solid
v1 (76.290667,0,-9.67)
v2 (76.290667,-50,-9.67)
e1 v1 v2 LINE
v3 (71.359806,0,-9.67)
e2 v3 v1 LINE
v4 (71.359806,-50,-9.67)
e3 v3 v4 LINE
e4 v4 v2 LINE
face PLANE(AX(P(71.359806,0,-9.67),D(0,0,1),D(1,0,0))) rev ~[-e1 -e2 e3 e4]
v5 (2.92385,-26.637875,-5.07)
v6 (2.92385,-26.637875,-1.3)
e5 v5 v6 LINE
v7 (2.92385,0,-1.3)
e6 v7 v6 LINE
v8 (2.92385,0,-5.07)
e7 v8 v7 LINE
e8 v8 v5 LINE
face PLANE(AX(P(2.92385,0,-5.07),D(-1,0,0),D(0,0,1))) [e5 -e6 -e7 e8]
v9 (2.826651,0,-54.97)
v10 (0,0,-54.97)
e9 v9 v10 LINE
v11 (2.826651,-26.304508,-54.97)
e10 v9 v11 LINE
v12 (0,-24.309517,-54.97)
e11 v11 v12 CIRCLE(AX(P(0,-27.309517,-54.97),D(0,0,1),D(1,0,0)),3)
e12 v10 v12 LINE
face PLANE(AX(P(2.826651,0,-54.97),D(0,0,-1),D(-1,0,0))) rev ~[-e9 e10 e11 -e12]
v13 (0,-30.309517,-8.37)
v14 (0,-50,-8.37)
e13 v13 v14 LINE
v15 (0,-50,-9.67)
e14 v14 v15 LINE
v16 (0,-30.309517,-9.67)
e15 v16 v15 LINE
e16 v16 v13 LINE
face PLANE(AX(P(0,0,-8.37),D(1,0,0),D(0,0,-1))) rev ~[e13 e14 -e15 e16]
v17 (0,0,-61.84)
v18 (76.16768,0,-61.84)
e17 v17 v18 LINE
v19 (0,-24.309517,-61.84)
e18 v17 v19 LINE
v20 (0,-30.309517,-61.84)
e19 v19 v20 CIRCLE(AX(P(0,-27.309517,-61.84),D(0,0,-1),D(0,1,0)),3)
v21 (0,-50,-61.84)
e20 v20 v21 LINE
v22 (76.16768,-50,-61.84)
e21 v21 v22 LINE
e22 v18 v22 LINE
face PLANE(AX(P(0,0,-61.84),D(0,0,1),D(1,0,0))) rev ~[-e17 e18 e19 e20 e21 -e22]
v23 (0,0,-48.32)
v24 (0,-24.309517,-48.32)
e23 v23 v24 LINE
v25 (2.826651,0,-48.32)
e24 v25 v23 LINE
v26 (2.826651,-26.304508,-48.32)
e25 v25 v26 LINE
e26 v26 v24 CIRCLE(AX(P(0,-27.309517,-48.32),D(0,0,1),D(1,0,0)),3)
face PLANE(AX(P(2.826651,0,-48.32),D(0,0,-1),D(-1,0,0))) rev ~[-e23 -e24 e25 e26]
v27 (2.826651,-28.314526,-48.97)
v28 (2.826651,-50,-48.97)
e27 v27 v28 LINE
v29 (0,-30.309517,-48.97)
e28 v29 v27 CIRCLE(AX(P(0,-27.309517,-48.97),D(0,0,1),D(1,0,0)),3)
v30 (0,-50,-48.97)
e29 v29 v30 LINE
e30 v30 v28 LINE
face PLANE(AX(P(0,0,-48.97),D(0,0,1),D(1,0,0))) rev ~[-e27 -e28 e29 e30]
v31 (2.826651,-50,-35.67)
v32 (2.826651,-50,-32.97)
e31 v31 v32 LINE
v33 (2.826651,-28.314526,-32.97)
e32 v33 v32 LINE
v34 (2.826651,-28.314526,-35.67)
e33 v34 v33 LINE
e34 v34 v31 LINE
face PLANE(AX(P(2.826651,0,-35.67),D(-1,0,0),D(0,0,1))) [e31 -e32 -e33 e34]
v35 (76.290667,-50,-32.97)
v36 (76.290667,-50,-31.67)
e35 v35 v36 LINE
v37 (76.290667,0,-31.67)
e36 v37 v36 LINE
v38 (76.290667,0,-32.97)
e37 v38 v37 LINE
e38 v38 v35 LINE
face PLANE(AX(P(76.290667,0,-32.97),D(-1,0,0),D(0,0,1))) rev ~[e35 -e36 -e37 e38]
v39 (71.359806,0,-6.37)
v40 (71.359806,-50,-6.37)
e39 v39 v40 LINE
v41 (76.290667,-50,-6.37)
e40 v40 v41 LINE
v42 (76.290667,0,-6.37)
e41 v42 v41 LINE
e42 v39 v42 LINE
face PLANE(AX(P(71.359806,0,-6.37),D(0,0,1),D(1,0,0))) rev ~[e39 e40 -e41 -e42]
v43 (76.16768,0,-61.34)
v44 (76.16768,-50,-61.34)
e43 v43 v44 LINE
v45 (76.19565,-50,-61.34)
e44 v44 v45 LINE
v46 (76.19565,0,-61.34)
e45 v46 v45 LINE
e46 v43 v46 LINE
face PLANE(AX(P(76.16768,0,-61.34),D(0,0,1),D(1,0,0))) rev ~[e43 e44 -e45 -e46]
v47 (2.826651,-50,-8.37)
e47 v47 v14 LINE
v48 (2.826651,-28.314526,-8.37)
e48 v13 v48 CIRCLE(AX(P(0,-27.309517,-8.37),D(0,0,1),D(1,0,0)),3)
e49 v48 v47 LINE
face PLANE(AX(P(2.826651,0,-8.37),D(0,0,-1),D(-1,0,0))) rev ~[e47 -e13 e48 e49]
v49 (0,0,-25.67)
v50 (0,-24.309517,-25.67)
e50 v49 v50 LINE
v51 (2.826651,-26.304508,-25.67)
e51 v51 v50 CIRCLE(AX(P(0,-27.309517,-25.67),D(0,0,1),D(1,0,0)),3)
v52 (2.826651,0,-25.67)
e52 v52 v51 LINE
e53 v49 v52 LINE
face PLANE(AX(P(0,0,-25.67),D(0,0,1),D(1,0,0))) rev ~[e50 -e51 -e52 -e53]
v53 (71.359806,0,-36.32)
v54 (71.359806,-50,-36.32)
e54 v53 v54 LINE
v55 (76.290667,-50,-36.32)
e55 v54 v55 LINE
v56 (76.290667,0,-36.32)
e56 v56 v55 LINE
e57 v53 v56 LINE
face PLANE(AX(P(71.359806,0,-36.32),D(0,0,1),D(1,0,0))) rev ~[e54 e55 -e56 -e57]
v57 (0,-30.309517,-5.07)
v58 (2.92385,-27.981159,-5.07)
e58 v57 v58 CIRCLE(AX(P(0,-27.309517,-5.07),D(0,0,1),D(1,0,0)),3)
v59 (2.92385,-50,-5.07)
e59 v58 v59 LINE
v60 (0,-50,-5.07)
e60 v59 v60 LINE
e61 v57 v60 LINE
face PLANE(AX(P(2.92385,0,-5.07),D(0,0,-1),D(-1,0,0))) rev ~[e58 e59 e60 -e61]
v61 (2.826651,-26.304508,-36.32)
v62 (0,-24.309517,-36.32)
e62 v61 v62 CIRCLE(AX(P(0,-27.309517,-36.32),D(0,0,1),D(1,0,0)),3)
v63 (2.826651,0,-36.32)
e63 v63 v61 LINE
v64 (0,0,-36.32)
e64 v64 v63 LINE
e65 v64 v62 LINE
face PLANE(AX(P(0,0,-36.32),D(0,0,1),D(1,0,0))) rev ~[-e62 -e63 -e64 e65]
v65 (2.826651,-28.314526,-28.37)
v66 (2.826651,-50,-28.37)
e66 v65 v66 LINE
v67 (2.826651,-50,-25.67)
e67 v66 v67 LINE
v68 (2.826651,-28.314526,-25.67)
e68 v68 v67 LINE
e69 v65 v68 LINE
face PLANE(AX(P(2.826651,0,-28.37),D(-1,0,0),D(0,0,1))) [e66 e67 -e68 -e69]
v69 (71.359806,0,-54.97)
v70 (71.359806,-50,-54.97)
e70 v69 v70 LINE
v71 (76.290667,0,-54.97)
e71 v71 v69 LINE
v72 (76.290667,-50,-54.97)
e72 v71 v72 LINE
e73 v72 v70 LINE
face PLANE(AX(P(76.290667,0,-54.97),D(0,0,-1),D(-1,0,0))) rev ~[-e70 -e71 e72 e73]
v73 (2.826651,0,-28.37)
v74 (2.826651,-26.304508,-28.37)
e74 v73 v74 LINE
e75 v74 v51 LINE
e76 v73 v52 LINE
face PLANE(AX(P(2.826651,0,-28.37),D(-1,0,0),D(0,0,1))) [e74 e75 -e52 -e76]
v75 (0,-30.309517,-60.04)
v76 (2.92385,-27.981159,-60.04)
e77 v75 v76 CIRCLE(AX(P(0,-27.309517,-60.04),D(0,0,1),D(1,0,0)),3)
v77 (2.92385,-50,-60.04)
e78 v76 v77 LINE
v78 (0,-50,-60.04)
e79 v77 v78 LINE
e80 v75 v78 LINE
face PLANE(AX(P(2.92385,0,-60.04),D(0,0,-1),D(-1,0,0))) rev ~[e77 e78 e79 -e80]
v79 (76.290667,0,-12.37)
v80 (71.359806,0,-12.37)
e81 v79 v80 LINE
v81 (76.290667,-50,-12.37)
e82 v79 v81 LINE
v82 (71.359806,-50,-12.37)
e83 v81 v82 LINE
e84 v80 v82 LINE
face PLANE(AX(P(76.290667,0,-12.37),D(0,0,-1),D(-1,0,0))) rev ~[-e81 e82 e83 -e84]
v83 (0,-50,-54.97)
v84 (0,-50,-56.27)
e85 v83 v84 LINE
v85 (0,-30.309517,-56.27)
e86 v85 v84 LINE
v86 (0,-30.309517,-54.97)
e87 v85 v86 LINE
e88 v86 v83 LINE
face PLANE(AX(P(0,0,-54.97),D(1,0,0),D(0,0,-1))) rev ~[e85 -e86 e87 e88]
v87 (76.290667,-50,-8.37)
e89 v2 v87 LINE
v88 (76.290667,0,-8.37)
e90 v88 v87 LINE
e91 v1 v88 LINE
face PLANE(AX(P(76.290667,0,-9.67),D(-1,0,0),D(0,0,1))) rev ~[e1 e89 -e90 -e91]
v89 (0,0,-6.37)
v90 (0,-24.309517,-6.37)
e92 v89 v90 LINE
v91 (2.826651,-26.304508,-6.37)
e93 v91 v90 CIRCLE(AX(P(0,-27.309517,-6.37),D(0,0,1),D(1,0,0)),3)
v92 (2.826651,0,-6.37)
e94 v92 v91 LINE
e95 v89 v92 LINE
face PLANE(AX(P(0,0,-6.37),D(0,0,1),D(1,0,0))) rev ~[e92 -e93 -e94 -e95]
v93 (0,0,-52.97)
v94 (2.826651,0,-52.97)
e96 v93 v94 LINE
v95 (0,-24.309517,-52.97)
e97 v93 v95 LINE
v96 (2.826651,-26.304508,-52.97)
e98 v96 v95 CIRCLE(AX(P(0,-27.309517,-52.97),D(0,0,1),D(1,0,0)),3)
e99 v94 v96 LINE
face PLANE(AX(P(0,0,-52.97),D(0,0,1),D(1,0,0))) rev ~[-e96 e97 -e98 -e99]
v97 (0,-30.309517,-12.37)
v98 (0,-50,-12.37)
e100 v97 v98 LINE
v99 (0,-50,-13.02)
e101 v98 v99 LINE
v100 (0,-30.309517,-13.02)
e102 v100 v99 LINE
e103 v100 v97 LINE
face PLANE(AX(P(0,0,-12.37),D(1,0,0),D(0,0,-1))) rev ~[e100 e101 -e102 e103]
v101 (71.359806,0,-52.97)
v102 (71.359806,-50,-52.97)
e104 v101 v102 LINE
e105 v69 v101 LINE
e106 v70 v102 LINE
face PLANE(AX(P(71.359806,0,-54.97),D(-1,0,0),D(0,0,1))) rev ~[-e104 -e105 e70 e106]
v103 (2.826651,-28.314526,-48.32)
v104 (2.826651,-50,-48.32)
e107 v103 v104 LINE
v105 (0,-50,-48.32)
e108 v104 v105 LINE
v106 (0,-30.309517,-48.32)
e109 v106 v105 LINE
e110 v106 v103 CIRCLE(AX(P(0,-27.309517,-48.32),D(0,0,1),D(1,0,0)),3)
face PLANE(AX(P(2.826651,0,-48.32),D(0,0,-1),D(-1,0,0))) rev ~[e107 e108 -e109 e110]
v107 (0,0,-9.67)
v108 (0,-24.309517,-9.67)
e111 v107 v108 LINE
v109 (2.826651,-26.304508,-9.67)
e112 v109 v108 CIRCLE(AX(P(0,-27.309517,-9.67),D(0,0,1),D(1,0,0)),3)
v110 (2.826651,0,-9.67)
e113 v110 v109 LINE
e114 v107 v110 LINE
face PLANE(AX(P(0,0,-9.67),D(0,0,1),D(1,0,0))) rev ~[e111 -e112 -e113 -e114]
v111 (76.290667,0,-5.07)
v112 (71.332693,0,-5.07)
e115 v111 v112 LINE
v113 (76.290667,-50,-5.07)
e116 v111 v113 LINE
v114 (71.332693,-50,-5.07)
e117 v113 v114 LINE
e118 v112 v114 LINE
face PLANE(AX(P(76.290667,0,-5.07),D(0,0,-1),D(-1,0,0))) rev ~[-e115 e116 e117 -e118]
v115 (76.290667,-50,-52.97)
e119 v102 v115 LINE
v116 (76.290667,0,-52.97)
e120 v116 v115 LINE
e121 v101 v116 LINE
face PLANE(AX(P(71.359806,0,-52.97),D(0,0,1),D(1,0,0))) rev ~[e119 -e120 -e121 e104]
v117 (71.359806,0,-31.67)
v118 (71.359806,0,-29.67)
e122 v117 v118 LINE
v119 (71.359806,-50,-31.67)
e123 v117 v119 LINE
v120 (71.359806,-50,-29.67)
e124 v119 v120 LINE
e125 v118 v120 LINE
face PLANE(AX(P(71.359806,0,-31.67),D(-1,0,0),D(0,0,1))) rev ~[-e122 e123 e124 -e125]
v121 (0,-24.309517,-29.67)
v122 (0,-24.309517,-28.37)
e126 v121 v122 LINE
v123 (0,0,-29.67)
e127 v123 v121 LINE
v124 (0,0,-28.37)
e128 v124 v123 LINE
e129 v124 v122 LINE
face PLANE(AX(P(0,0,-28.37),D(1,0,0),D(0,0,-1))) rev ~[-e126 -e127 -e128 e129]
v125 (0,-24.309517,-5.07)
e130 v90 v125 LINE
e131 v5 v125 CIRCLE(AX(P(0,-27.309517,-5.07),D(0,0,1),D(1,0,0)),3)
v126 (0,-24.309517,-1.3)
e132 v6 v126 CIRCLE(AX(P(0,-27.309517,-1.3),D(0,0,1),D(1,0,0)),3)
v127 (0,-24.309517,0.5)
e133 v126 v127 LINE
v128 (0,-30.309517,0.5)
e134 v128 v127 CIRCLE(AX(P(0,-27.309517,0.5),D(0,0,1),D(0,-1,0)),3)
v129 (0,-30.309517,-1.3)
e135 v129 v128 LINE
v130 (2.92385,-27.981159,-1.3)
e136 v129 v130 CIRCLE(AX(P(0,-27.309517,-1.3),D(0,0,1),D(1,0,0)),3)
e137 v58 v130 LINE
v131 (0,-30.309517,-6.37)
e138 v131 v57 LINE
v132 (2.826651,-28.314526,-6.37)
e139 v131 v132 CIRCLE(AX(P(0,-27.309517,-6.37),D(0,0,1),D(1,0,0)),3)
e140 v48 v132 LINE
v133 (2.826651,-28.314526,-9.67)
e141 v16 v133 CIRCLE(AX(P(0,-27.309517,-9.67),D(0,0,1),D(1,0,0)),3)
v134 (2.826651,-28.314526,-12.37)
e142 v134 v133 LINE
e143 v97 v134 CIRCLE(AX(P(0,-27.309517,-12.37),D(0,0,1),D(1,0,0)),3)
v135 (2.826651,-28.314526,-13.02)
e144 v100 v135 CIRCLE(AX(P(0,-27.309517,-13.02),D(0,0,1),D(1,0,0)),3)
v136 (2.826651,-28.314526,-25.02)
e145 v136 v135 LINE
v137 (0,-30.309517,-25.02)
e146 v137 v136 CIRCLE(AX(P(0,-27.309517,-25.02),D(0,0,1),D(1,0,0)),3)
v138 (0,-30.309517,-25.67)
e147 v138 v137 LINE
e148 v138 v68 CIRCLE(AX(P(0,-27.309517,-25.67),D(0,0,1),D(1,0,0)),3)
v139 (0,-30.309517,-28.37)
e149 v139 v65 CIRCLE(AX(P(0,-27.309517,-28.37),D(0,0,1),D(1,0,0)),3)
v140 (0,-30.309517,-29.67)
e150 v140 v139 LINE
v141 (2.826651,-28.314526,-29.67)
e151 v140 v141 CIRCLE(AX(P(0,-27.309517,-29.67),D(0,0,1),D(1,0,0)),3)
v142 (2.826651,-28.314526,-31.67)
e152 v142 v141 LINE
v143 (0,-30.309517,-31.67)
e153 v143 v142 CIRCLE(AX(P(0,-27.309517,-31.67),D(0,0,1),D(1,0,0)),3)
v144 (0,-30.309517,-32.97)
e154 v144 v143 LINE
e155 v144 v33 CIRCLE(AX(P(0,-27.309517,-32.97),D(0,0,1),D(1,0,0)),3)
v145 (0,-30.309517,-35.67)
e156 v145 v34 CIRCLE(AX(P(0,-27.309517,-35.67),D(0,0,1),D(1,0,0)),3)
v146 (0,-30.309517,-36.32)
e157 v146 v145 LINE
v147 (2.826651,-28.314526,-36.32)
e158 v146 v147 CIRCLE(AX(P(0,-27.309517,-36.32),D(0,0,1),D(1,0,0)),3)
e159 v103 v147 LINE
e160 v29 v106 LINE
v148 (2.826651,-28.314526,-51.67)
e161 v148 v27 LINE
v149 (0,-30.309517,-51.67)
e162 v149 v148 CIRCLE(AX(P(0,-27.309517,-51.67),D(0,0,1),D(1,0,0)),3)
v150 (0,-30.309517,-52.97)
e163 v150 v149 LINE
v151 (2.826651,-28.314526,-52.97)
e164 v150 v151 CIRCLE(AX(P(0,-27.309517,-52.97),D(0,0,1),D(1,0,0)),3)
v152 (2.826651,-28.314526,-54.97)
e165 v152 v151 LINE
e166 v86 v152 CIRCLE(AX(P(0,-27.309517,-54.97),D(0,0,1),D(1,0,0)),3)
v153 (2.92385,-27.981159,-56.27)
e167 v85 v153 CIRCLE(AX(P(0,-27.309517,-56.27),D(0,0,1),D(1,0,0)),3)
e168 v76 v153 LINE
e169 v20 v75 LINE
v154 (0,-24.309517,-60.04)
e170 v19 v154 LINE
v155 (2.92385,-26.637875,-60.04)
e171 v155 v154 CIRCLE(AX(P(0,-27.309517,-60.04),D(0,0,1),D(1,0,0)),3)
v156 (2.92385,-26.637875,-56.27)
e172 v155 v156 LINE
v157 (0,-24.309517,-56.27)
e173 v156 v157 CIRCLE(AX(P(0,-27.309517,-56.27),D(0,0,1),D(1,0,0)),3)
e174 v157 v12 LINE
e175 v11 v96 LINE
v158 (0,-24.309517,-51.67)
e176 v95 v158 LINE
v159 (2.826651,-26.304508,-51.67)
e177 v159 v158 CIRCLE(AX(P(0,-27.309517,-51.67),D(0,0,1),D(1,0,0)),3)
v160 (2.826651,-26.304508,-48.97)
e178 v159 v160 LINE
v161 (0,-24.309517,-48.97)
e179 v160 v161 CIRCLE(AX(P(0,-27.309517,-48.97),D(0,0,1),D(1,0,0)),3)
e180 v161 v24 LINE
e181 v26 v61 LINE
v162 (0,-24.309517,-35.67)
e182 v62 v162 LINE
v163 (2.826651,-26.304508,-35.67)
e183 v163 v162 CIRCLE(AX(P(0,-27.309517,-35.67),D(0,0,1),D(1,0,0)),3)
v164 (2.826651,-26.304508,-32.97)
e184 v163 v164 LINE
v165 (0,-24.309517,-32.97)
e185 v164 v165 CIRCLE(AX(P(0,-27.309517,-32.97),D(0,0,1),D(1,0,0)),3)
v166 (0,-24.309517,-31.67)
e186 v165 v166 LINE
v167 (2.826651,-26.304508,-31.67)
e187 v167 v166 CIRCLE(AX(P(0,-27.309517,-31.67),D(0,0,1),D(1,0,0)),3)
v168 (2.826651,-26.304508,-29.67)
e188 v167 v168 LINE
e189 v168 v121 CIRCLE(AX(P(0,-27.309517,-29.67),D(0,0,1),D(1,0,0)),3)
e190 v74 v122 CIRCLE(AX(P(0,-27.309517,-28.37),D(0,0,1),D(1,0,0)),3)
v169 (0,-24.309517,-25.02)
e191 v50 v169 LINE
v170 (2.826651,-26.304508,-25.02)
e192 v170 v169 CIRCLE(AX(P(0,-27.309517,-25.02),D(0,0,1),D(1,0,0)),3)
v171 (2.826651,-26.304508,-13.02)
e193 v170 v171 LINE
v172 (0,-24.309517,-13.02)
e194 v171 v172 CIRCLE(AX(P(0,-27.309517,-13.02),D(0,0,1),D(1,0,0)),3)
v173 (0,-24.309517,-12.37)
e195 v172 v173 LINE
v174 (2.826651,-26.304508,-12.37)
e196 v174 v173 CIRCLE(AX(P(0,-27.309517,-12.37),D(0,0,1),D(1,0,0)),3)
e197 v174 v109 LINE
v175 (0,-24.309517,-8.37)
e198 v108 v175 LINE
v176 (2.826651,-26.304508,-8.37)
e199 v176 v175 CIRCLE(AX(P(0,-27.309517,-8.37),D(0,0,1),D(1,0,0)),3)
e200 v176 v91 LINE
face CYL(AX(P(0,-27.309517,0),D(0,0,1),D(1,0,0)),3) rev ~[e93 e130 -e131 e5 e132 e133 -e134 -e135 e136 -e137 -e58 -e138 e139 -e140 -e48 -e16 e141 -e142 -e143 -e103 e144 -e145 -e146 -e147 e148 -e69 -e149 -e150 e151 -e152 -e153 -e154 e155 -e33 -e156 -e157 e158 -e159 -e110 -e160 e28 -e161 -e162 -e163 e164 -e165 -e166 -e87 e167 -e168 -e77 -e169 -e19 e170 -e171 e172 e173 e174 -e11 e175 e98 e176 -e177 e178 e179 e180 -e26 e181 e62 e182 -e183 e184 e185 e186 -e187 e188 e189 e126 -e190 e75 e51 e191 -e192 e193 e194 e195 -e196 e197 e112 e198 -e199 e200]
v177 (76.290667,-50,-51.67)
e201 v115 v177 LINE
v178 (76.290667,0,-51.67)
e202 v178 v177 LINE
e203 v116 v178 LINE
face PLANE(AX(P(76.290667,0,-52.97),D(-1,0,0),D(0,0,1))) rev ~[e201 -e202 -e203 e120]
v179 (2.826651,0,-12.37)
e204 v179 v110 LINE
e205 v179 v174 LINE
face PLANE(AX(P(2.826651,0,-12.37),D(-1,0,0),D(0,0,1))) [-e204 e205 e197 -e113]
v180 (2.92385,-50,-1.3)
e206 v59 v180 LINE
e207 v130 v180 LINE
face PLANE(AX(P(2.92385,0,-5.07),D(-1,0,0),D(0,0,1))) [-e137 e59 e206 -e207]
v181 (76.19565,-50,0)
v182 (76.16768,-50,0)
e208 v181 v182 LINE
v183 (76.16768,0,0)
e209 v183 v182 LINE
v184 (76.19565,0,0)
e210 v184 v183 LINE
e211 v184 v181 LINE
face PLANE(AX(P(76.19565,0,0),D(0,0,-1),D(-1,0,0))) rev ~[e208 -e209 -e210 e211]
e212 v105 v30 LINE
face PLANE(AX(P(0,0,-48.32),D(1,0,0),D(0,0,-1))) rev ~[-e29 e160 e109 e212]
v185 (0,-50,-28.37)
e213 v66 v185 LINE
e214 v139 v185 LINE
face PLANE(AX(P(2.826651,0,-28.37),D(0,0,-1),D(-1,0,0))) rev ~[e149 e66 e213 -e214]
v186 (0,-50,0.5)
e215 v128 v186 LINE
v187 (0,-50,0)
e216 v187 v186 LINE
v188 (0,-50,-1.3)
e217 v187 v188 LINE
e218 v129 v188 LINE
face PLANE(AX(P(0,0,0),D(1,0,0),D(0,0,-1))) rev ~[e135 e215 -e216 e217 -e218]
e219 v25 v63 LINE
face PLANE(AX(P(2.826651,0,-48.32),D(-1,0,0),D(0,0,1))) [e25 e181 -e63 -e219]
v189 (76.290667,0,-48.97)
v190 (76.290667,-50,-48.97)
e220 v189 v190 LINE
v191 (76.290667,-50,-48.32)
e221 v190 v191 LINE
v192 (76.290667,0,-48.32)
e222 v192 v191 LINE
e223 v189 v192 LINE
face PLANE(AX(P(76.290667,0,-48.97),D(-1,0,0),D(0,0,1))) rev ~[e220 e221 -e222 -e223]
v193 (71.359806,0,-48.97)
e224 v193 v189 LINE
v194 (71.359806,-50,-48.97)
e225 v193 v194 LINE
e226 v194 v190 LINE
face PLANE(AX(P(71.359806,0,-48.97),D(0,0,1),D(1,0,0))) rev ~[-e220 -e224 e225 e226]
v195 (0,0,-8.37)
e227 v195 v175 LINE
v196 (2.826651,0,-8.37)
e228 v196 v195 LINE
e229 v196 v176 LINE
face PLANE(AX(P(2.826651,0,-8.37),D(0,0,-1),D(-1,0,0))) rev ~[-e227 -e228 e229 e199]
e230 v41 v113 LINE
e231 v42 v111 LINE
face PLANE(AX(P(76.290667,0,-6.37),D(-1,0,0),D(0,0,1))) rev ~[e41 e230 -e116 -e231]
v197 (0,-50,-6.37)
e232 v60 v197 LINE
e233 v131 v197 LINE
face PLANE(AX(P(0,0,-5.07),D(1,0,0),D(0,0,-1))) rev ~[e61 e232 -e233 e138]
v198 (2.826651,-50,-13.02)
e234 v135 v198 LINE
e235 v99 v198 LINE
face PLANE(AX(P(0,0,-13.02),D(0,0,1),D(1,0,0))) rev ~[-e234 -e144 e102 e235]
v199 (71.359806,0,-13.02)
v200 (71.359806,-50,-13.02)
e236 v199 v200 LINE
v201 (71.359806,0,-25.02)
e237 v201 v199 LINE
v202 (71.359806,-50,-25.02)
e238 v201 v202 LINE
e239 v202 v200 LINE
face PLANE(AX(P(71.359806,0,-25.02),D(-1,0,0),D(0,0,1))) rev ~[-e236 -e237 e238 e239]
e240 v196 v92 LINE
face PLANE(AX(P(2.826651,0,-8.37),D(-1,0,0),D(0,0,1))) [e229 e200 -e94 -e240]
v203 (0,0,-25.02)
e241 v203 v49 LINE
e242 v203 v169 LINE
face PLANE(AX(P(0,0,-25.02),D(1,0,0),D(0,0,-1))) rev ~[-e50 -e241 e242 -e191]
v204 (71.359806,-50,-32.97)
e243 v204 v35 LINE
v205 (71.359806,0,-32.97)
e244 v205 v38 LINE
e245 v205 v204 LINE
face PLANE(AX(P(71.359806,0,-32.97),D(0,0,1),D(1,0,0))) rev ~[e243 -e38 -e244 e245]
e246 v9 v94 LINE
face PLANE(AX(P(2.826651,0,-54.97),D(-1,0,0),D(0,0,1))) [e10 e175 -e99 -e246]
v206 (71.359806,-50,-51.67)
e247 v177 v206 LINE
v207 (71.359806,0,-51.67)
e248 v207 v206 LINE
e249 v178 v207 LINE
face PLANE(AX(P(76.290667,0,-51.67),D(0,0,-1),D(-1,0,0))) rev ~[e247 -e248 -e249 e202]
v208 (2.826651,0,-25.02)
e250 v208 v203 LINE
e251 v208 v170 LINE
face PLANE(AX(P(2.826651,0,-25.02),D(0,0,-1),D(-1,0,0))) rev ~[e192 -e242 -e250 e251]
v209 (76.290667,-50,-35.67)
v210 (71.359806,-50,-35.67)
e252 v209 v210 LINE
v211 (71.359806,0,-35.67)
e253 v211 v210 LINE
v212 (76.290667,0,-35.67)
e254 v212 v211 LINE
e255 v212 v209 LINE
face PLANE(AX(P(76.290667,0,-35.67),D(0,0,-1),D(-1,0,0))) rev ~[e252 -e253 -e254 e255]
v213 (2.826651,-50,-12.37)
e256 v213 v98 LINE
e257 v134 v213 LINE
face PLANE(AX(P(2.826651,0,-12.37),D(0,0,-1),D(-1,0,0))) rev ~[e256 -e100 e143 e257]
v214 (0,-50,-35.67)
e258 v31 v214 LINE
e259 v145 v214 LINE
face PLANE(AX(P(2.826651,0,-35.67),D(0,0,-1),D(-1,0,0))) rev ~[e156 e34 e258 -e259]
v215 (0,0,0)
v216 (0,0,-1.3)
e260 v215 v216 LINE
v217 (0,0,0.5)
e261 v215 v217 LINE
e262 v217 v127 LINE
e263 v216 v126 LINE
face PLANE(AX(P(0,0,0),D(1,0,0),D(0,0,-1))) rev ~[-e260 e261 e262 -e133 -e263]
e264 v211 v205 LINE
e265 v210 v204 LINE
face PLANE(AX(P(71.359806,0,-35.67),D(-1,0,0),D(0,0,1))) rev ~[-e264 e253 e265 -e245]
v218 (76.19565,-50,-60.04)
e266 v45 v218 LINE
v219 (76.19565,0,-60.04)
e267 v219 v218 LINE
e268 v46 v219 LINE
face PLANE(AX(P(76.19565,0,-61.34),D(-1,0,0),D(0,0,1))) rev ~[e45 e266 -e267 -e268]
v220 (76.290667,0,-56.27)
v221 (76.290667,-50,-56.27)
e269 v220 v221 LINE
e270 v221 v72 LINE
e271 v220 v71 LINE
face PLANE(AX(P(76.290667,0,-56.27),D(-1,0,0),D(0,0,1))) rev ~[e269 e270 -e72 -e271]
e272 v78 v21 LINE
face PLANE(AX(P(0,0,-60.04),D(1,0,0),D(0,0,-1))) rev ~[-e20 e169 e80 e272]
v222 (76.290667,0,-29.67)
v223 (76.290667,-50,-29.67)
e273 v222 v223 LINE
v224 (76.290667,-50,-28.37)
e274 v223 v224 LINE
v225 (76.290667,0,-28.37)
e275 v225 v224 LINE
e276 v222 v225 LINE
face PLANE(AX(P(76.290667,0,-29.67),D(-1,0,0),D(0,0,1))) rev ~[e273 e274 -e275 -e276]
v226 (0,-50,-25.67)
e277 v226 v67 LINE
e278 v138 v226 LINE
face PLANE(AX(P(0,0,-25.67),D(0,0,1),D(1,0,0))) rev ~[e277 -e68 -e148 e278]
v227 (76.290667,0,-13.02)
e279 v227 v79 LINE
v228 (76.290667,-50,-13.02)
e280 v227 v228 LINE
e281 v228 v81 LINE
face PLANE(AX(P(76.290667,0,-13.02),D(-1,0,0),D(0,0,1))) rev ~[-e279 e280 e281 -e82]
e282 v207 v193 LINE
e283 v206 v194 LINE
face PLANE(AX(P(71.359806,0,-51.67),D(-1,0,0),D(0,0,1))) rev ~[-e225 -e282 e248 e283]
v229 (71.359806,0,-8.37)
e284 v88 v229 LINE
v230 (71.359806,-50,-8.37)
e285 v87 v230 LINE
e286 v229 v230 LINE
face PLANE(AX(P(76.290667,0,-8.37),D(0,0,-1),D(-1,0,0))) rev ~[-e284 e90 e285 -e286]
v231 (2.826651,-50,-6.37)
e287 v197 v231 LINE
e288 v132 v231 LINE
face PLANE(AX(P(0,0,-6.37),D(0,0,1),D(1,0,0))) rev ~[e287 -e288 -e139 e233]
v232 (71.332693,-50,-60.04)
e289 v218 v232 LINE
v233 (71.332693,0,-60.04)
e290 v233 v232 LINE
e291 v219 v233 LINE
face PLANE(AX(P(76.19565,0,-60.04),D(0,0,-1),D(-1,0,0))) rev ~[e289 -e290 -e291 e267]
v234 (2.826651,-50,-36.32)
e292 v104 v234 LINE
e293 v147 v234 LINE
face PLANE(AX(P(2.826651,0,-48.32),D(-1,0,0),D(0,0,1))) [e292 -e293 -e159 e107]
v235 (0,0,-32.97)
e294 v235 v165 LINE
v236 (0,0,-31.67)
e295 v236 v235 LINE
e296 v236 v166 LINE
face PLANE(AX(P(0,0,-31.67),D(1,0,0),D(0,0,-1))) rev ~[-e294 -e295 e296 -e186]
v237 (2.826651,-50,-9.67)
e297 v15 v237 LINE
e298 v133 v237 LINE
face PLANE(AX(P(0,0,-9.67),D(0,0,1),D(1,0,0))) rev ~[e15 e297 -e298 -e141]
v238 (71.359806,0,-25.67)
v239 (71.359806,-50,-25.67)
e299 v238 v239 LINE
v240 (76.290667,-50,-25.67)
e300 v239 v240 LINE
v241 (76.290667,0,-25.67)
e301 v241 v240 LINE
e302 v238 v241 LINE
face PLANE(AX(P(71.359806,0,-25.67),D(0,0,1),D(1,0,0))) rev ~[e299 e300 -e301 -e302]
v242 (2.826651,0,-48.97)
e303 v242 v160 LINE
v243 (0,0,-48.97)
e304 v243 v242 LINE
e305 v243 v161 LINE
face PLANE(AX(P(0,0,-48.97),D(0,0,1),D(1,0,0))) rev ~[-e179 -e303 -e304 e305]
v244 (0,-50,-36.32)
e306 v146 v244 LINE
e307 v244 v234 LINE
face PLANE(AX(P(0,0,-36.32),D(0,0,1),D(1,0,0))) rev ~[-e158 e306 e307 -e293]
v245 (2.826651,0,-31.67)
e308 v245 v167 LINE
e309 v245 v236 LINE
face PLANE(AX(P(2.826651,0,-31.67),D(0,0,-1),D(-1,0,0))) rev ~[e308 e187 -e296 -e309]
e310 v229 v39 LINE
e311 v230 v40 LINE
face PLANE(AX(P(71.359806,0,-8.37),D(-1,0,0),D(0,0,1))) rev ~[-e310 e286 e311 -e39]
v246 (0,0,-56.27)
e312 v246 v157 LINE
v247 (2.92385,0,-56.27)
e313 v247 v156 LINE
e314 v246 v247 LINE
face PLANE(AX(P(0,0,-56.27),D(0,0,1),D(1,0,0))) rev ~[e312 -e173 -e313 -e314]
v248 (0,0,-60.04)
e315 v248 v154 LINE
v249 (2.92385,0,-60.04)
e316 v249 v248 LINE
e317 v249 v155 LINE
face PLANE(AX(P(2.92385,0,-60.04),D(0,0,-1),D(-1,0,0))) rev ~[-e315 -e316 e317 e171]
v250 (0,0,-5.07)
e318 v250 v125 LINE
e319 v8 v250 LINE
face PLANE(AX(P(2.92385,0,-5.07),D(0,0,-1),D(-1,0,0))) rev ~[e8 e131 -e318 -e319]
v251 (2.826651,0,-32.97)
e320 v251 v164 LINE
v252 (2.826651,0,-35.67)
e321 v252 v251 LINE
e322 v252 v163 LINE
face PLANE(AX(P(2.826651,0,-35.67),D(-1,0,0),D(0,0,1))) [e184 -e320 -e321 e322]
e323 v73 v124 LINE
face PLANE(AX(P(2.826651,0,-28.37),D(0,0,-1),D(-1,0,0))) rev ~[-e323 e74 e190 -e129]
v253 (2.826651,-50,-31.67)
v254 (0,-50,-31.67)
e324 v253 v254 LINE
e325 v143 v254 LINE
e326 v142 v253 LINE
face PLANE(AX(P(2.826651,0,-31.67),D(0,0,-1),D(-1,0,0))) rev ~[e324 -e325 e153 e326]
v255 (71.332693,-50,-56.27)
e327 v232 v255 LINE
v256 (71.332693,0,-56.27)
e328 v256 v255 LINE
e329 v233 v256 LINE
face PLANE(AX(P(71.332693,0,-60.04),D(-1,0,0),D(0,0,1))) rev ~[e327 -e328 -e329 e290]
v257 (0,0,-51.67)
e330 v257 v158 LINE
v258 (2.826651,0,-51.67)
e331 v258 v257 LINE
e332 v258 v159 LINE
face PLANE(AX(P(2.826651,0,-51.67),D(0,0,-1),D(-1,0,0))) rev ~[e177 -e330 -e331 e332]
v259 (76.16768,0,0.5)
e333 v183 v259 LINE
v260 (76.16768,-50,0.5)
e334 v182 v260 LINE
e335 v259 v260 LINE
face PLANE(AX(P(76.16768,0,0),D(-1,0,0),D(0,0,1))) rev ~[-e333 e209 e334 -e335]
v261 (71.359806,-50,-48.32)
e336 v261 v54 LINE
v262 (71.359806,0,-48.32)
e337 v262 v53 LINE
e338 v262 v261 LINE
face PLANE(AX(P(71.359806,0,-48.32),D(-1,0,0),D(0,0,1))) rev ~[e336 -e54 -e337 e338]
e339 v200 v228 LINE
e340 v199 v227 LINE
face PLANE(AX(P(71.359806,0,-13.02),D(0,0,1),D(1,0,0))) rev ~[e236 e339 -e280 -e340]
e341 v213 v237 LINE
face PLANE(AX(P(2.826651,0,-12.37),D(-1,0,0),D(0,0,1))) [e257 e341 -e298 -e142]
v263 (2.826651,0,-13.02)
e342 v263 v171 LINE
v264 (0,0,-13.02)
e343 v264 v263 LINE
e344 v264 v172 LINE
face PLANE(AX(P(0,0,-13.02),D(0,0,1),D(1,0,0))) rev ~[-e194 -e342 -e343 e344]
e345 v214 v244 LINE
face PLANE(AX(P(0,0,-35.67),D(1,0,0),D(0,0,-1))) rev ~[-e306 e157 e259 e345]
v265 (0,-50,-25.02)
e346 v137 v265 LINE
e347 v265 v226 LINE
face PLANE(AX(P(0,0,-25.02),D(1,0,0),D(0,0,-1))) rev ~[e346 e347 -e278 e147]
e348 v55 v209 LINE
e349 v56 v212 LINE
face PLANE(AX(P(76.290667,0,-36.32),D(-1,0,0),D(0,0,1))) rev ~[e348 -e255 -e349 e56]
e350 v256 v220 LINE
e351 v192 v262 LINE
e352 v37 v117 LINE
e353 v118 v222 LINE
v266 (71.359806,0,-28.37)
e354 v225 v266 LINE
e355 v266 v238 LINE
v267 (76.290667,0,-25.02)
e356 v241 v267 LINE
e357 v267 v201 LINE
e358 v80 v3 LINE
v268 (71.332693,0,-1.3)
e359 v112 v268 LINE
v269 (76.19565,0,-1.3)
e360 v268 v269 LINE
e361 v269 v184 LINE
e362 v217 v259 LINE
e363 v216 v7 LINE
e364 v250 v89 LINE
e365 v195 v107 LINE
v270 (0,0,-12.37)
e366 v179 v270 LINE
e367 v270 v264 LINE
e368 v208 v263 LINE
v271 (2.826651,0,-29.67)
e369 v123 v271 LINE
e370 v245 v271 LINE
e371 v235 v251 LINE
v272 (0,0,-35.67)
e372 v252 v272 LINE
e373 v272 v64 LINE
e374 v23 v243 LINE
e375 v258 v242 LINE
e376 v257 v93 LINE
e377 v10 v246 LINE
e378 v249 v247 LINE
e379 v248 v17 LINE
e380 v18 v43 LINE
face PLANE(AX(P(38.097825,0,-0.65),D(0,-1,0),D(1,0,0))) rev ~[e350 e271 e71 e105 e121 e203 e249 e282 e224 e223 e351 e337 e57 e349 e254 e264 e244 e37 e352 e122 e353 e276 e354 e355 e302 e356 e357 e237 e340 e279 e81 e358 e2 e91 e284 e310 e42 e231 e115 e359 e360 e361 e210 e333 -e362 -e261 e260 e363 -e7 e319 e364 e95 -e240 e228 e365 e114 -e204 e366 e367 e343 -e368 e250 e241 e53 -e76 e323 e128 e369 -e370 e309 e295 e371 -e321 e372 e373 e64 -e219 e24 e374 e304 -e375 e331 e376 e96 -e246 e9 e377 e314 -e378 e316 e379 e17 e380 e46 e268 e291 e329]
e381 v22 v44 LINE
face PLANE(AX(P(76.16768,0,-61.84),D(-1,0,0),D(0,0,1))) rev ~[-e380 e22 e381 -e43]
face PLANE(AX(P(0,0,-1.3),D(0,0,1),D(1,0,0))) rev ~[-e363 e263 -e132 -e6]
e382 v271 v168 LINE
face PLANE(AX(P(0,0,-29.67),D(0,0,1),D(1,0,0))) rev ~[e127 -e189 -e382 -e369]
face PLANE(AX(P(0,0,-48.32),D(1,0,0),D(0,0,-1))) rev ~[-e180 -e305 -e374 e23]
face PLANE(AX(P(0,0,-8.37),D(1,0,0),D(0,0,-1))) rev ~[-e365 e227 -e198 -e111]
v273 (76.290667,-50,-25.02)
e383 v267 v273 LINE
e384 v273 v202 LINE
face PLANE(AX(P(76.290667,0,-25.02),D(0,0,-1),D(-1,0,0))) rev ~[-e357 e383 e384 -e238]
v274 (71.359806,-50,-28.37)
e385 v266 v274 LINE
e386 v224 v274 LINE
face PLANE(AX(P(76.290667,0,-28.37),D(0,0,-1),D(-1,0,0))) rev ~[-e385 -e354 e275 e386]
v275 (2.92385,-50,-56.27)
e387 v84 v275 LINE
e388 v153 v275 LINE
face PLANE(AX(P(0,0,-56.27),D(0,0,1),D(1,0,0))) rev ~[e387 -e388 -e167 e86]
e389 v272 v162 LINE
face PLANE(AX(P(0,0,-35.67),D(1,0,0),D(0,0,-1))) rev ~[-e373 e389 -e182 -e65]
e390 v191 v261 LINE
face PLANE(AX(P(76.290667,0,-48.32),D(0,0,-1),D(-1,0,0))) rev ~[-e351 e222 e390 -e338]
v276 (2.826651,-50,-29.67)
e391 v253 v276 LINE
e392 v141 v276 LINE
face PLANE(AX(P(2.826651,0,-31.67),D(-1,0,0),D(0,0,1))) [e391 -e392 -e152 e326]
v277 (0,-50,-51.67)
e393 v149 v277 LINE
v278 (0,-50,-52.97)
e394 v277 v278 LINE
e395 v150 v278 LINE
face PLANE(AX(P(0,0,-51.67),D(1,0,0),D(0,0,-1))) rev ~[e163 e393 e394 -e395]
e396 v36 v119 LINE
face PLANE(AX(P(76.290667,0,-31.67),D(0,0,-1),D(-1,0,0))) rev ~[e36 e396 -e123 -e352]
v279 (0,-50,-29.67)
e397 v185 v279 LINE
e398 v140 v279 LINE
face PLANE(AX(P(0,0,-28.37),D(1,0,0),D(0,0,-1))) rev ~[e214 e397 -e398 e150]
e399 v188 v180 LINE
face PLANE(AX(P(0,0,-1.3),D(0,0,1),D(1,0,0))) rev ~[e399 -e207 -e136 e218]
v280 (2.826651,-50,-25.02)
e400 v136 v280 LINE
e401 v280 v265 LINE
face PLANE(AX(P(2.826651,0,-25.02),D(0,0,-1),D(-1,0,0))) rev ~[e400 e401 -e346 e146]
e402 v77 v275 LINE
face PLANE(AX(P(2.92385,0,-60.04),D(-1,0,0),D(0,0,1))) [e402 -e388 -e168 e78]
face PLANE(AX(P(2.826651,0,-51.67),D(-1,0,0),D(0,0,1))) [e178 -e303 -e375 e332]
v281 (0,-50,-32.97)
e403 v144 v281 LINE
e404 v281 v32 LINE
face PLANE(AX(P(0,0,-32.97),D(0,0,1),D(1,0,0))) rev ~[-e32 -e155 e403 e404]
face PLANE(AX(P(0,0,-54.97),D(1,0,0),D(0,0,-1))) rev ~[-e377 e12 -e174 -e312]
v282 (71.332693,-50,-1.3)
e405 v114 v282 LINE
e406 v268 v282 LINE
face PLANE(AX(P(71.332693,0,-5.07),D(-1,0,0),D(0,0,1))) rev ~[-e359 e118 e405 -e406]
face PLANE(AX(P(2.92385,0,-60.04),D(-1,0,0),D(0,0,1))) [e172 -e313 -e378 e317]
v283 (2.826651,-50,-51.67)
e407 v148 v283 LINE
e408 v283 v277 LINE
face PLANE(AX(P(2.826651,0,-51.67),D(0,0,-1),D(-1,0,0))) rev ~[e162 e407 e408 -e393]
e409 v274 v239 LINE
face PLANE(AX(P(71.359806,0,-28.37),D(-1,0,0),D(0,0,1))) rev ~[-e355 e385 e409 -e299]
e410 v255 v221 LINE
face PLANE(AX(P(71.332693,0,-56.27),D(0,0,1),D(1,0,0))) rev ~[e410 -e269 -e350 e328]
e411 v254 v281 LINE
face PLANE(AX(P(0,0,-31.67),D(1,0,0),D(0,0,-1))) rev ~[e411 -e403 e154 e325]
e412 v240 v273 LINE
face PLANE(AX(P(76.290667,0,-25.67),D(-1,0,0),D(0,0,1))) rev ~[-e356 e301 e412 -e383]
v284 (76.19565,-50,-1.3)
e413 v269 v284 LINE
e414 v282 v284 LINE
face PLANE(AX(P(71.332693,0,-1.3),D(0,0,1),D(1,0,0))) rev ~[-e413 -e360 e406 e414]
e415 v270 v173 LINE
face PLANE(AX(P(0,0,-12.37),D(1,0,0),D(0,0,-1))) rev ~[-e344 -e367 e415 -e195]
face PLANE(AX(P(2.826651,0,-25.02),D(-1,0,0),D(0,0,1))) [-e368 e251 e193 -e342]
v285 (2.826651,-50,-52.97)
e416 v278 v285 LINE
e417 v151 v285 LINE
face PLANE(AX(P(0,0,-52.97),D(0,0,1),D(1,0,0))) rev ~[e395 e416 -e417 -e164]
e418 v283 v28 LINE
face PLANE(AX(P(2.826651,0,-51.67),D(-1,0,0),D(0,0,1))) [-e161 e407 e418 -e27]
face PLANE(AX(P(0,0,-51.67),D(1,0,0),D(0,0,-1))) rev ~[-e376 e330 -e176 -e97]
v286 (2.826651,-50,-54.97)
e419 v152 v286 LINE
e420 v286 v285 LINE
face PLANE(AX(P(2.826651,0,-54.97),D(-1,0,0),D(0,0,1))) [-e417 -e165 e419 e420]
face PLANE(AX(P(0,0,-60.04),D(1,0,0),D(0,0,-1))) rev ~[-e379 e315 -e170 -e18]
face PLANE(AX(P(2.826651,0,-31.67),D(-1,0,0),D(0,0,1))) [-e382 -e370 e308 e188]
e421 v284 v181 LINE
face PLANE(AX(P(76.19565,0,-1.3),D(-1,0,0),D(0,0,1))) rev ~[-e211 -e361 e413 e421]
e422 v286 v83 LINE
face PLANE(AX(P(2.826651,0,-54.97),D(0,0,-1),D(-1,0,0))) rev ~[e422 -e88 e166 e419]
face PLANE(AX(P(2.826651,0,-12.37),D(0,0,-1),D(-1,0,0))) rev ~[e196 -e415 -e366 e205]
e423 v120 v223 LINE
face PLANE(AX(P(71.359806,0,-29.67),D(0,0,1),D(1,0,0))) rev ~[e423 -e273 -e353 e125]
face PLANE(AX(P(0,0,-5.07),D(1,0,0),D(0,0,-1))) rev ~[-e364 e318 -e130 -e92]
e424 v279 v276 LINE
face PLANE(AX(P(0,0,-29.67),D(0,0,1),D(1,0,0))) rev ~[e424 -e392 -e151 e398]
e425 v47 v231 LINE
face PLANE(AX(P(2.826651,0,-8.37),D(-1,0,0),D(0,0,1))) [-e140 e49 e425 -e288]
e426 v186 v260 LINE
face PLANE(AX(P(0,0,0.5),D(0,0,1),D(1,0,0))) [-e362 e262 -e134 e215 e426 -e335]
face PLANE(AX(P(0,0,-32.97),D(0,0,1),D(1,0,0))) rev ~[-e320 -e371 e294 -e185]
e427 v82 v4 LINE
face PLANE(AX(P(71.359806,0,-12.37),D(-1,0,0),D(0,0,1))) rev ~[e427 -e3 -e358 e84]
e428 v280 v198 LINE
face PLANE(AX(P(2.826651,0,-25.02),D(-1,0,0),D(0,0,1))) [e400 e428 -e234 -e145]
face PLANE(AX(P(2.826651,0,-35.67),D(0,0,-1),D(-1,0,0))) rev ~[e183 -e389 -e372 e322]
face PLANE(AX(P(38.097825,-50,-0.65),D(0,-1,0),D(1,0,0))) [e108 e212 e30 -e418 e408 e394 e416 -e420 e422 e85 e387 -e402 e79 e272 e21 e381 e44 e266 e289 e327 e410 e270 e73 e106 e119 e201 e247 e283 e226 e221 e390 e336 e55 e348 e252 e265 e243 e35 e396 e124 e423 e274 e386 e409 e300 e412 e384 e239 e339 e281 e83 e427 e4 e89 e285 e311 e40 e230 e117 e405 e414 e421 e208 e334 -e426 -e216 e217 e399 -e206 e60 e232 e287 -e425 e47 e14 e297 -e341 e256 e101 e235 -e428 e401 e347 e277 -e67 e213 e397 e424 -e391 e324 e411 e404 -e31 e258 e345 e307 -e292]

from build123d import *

# Parameters (mm, degrees)
F0_W          = 76.1676803231
F0_H          = 0.5
F0_W_2        = 68.4088433627
F0_H_2        = 3.77
F0_W_3        = 68.5331546701
F0_H_3        = 2.7
F0_H_4        = 2
F0_H_5        = 12
F1_DEPTH      = 50
F2_R          = 3
F3_DEPTH      = 70
F3_DEPTH_BACK = 0.501


with BuildPart() as f1:
    # F0 (on Front) → F1 (new body)
    with BuildSketch(Plane.XZ):
        Polygon((76.1676803231, 0), (0, 0), (0, -1.3), (2.9238497373, -1.3), (71.3326931, -1.3), (76.1956498027, -1.3), (76.1956498027, 0), align=None)
        Polygon((71.3326931, -60.04), (2.9238497373, -60.04), (0, -60.04), (0, -61.34), (76.1676803231, -61.34), (76.1956498027, -61.34), (76.1956498027, -60.04), align=None)
        Polygon((71.3326931, -5.07), (2.9238497373, -5.07), (0, -5.07), (0, -6.37), (2.8266510926, -6.37), (71.3598057628, -6.37), (76.290667057, -6.37), (76.290667057, -5.07), align=None)
        Polygon((71.3598057628, -8.37), (2.8266510926, -8.37), (0, -8.37), (0, -9.67), (2.8266510926, -9.67), (71.3598057628, -9.67), (76.290667057, -9.67), (76.290667057, -8.37), align=None)
        Polygon((71.3598057628, -51.67), (2.8266510926, -51.67), (0, -51.67), (0, -52.97), (2.8266510926, -52.97), (71.3598057628, -52.97), (76.290667057, -52.97), (76.290667057, -51.67), align=None)
        Polygon((71.3598057628, -12.37), (2.8266510926, -12.37), (0, -12.37), (0, -13.02), (2.8266510926, -13.02), (71.3598057628, -13.02), (76.290667057, -13.02), (76.290667057, -12.37), align=None)
        Polygon((71.3598057628, -25.02), (2.8266510926, -25.02), (0, -25.02), (0, -25.67), (2.8266510926, -25.67), (71.3598057628, -25.67), (76.290667057, -25.67), (76.290667057, -25.02), align=None)
        Polygon((71.3598057628, -54.97), (2.8266510926, -54.97), (0, -54.97), (0, -56.27), (2.9238497373, -56.27), (71.3326931, -56.27), (76.290667057, -56.27), (76.290667057, -54.97), align=None)
        Polygon((71.3598057628, -31.67), (2.8266510926, -31.67), (0, -31.67), (0, -32.97), (2.8266510926, -32.97), (71.3598057628, -32.97), (76.290667057, -32.97), (76.290667057, -31.67), align=None)
        Polygon((71.3598057628, -28.37), (2.8266510926, -28.37), (0, -28.37), (0, -29.67), (2.8266510926, -29.67), (71.3598057628, -29.67), (76.290667057, -29.67), (76.290667057, -28.37), align=None)
        with Locations((38.0838401616, 0.25)):
            Rectangle(F0_W, F0_H)
        with Locations((38.0838401616, -61.59)):
            Rectangle(F0_W, F0_H)
        Polygon((71.3598057628, -48.32), (2.8266510926, -48.32), (0, -48.32), (0, -48.97), (2.8266510926, -48.97), (71.3598057628, -48.97), (76.290667057, -48.97), (76.290667057, -48.32), align=None)
        Polygon((71.3598057628, -35.67), (2.8266510926, -35.67), (0, -35.67), (0, -36.32), (2.8266510926, -36.32), (71.3598057628, -36.32), (76.290667057, -36.32), (76.290667057, -35.67), align=None)
        with Locations((37.1282714186, -58.155)):
            Rectangle(F0_W_2, F0_H_2)
        with Locations((37.0932284277, -11.02)):
            Rectangle(F0_W_3, F0_H_3)
        with Locations((37.0932284277, -7.37)):
            Rectangle(F0_W_3, F0_H_4)
        with Locations((37.0932284277, -42.32)):
            Rectangle(F0_W_3, F0_H_5)
        with Locations((37.0932284277, -34.32)):
            Rectangle(F0_W_3, F0_H_3)
        with Locations((37.0932284277, -53.97)):
            Rectangle(F0_W_3, F0_H_4)
        with Locations((37.0932284277, -27.02)):
            Rectangle(F0_W_3, F0_H_3)
        with Locations((37.0932284277, -30.67)):
            Rectangle(F0_W_3, F0_H_4)
        with Locations((37.0932284277, -19.02)):
            Rectangle(F0_W_3, F0_H_5)
        with Locations((37.0932284277, -50.32)):
            Rectangle(F0_W_3, F0_H_3)
        with Locations((37.1282714186, -3.185)):
            Rectangle(F0_W_2, F0_H_2)
    extrude(amount=F1_DEPTH)

    # F2 (on Top) → F3 (cut, two sides)
    with BuildSketch(Plane.XY) as f3_sk:
        with Locations((0, -27.3095168173)):
            Circle(F2_R)
    extrude(amount=-F3_DEPTH, mode=Mode.SUBTRACT)
    extrude(f3_sk.sketch, amount=F3_DEPTH_BACK, mode=Mode.SUBTRACT)


solid = f1.part
